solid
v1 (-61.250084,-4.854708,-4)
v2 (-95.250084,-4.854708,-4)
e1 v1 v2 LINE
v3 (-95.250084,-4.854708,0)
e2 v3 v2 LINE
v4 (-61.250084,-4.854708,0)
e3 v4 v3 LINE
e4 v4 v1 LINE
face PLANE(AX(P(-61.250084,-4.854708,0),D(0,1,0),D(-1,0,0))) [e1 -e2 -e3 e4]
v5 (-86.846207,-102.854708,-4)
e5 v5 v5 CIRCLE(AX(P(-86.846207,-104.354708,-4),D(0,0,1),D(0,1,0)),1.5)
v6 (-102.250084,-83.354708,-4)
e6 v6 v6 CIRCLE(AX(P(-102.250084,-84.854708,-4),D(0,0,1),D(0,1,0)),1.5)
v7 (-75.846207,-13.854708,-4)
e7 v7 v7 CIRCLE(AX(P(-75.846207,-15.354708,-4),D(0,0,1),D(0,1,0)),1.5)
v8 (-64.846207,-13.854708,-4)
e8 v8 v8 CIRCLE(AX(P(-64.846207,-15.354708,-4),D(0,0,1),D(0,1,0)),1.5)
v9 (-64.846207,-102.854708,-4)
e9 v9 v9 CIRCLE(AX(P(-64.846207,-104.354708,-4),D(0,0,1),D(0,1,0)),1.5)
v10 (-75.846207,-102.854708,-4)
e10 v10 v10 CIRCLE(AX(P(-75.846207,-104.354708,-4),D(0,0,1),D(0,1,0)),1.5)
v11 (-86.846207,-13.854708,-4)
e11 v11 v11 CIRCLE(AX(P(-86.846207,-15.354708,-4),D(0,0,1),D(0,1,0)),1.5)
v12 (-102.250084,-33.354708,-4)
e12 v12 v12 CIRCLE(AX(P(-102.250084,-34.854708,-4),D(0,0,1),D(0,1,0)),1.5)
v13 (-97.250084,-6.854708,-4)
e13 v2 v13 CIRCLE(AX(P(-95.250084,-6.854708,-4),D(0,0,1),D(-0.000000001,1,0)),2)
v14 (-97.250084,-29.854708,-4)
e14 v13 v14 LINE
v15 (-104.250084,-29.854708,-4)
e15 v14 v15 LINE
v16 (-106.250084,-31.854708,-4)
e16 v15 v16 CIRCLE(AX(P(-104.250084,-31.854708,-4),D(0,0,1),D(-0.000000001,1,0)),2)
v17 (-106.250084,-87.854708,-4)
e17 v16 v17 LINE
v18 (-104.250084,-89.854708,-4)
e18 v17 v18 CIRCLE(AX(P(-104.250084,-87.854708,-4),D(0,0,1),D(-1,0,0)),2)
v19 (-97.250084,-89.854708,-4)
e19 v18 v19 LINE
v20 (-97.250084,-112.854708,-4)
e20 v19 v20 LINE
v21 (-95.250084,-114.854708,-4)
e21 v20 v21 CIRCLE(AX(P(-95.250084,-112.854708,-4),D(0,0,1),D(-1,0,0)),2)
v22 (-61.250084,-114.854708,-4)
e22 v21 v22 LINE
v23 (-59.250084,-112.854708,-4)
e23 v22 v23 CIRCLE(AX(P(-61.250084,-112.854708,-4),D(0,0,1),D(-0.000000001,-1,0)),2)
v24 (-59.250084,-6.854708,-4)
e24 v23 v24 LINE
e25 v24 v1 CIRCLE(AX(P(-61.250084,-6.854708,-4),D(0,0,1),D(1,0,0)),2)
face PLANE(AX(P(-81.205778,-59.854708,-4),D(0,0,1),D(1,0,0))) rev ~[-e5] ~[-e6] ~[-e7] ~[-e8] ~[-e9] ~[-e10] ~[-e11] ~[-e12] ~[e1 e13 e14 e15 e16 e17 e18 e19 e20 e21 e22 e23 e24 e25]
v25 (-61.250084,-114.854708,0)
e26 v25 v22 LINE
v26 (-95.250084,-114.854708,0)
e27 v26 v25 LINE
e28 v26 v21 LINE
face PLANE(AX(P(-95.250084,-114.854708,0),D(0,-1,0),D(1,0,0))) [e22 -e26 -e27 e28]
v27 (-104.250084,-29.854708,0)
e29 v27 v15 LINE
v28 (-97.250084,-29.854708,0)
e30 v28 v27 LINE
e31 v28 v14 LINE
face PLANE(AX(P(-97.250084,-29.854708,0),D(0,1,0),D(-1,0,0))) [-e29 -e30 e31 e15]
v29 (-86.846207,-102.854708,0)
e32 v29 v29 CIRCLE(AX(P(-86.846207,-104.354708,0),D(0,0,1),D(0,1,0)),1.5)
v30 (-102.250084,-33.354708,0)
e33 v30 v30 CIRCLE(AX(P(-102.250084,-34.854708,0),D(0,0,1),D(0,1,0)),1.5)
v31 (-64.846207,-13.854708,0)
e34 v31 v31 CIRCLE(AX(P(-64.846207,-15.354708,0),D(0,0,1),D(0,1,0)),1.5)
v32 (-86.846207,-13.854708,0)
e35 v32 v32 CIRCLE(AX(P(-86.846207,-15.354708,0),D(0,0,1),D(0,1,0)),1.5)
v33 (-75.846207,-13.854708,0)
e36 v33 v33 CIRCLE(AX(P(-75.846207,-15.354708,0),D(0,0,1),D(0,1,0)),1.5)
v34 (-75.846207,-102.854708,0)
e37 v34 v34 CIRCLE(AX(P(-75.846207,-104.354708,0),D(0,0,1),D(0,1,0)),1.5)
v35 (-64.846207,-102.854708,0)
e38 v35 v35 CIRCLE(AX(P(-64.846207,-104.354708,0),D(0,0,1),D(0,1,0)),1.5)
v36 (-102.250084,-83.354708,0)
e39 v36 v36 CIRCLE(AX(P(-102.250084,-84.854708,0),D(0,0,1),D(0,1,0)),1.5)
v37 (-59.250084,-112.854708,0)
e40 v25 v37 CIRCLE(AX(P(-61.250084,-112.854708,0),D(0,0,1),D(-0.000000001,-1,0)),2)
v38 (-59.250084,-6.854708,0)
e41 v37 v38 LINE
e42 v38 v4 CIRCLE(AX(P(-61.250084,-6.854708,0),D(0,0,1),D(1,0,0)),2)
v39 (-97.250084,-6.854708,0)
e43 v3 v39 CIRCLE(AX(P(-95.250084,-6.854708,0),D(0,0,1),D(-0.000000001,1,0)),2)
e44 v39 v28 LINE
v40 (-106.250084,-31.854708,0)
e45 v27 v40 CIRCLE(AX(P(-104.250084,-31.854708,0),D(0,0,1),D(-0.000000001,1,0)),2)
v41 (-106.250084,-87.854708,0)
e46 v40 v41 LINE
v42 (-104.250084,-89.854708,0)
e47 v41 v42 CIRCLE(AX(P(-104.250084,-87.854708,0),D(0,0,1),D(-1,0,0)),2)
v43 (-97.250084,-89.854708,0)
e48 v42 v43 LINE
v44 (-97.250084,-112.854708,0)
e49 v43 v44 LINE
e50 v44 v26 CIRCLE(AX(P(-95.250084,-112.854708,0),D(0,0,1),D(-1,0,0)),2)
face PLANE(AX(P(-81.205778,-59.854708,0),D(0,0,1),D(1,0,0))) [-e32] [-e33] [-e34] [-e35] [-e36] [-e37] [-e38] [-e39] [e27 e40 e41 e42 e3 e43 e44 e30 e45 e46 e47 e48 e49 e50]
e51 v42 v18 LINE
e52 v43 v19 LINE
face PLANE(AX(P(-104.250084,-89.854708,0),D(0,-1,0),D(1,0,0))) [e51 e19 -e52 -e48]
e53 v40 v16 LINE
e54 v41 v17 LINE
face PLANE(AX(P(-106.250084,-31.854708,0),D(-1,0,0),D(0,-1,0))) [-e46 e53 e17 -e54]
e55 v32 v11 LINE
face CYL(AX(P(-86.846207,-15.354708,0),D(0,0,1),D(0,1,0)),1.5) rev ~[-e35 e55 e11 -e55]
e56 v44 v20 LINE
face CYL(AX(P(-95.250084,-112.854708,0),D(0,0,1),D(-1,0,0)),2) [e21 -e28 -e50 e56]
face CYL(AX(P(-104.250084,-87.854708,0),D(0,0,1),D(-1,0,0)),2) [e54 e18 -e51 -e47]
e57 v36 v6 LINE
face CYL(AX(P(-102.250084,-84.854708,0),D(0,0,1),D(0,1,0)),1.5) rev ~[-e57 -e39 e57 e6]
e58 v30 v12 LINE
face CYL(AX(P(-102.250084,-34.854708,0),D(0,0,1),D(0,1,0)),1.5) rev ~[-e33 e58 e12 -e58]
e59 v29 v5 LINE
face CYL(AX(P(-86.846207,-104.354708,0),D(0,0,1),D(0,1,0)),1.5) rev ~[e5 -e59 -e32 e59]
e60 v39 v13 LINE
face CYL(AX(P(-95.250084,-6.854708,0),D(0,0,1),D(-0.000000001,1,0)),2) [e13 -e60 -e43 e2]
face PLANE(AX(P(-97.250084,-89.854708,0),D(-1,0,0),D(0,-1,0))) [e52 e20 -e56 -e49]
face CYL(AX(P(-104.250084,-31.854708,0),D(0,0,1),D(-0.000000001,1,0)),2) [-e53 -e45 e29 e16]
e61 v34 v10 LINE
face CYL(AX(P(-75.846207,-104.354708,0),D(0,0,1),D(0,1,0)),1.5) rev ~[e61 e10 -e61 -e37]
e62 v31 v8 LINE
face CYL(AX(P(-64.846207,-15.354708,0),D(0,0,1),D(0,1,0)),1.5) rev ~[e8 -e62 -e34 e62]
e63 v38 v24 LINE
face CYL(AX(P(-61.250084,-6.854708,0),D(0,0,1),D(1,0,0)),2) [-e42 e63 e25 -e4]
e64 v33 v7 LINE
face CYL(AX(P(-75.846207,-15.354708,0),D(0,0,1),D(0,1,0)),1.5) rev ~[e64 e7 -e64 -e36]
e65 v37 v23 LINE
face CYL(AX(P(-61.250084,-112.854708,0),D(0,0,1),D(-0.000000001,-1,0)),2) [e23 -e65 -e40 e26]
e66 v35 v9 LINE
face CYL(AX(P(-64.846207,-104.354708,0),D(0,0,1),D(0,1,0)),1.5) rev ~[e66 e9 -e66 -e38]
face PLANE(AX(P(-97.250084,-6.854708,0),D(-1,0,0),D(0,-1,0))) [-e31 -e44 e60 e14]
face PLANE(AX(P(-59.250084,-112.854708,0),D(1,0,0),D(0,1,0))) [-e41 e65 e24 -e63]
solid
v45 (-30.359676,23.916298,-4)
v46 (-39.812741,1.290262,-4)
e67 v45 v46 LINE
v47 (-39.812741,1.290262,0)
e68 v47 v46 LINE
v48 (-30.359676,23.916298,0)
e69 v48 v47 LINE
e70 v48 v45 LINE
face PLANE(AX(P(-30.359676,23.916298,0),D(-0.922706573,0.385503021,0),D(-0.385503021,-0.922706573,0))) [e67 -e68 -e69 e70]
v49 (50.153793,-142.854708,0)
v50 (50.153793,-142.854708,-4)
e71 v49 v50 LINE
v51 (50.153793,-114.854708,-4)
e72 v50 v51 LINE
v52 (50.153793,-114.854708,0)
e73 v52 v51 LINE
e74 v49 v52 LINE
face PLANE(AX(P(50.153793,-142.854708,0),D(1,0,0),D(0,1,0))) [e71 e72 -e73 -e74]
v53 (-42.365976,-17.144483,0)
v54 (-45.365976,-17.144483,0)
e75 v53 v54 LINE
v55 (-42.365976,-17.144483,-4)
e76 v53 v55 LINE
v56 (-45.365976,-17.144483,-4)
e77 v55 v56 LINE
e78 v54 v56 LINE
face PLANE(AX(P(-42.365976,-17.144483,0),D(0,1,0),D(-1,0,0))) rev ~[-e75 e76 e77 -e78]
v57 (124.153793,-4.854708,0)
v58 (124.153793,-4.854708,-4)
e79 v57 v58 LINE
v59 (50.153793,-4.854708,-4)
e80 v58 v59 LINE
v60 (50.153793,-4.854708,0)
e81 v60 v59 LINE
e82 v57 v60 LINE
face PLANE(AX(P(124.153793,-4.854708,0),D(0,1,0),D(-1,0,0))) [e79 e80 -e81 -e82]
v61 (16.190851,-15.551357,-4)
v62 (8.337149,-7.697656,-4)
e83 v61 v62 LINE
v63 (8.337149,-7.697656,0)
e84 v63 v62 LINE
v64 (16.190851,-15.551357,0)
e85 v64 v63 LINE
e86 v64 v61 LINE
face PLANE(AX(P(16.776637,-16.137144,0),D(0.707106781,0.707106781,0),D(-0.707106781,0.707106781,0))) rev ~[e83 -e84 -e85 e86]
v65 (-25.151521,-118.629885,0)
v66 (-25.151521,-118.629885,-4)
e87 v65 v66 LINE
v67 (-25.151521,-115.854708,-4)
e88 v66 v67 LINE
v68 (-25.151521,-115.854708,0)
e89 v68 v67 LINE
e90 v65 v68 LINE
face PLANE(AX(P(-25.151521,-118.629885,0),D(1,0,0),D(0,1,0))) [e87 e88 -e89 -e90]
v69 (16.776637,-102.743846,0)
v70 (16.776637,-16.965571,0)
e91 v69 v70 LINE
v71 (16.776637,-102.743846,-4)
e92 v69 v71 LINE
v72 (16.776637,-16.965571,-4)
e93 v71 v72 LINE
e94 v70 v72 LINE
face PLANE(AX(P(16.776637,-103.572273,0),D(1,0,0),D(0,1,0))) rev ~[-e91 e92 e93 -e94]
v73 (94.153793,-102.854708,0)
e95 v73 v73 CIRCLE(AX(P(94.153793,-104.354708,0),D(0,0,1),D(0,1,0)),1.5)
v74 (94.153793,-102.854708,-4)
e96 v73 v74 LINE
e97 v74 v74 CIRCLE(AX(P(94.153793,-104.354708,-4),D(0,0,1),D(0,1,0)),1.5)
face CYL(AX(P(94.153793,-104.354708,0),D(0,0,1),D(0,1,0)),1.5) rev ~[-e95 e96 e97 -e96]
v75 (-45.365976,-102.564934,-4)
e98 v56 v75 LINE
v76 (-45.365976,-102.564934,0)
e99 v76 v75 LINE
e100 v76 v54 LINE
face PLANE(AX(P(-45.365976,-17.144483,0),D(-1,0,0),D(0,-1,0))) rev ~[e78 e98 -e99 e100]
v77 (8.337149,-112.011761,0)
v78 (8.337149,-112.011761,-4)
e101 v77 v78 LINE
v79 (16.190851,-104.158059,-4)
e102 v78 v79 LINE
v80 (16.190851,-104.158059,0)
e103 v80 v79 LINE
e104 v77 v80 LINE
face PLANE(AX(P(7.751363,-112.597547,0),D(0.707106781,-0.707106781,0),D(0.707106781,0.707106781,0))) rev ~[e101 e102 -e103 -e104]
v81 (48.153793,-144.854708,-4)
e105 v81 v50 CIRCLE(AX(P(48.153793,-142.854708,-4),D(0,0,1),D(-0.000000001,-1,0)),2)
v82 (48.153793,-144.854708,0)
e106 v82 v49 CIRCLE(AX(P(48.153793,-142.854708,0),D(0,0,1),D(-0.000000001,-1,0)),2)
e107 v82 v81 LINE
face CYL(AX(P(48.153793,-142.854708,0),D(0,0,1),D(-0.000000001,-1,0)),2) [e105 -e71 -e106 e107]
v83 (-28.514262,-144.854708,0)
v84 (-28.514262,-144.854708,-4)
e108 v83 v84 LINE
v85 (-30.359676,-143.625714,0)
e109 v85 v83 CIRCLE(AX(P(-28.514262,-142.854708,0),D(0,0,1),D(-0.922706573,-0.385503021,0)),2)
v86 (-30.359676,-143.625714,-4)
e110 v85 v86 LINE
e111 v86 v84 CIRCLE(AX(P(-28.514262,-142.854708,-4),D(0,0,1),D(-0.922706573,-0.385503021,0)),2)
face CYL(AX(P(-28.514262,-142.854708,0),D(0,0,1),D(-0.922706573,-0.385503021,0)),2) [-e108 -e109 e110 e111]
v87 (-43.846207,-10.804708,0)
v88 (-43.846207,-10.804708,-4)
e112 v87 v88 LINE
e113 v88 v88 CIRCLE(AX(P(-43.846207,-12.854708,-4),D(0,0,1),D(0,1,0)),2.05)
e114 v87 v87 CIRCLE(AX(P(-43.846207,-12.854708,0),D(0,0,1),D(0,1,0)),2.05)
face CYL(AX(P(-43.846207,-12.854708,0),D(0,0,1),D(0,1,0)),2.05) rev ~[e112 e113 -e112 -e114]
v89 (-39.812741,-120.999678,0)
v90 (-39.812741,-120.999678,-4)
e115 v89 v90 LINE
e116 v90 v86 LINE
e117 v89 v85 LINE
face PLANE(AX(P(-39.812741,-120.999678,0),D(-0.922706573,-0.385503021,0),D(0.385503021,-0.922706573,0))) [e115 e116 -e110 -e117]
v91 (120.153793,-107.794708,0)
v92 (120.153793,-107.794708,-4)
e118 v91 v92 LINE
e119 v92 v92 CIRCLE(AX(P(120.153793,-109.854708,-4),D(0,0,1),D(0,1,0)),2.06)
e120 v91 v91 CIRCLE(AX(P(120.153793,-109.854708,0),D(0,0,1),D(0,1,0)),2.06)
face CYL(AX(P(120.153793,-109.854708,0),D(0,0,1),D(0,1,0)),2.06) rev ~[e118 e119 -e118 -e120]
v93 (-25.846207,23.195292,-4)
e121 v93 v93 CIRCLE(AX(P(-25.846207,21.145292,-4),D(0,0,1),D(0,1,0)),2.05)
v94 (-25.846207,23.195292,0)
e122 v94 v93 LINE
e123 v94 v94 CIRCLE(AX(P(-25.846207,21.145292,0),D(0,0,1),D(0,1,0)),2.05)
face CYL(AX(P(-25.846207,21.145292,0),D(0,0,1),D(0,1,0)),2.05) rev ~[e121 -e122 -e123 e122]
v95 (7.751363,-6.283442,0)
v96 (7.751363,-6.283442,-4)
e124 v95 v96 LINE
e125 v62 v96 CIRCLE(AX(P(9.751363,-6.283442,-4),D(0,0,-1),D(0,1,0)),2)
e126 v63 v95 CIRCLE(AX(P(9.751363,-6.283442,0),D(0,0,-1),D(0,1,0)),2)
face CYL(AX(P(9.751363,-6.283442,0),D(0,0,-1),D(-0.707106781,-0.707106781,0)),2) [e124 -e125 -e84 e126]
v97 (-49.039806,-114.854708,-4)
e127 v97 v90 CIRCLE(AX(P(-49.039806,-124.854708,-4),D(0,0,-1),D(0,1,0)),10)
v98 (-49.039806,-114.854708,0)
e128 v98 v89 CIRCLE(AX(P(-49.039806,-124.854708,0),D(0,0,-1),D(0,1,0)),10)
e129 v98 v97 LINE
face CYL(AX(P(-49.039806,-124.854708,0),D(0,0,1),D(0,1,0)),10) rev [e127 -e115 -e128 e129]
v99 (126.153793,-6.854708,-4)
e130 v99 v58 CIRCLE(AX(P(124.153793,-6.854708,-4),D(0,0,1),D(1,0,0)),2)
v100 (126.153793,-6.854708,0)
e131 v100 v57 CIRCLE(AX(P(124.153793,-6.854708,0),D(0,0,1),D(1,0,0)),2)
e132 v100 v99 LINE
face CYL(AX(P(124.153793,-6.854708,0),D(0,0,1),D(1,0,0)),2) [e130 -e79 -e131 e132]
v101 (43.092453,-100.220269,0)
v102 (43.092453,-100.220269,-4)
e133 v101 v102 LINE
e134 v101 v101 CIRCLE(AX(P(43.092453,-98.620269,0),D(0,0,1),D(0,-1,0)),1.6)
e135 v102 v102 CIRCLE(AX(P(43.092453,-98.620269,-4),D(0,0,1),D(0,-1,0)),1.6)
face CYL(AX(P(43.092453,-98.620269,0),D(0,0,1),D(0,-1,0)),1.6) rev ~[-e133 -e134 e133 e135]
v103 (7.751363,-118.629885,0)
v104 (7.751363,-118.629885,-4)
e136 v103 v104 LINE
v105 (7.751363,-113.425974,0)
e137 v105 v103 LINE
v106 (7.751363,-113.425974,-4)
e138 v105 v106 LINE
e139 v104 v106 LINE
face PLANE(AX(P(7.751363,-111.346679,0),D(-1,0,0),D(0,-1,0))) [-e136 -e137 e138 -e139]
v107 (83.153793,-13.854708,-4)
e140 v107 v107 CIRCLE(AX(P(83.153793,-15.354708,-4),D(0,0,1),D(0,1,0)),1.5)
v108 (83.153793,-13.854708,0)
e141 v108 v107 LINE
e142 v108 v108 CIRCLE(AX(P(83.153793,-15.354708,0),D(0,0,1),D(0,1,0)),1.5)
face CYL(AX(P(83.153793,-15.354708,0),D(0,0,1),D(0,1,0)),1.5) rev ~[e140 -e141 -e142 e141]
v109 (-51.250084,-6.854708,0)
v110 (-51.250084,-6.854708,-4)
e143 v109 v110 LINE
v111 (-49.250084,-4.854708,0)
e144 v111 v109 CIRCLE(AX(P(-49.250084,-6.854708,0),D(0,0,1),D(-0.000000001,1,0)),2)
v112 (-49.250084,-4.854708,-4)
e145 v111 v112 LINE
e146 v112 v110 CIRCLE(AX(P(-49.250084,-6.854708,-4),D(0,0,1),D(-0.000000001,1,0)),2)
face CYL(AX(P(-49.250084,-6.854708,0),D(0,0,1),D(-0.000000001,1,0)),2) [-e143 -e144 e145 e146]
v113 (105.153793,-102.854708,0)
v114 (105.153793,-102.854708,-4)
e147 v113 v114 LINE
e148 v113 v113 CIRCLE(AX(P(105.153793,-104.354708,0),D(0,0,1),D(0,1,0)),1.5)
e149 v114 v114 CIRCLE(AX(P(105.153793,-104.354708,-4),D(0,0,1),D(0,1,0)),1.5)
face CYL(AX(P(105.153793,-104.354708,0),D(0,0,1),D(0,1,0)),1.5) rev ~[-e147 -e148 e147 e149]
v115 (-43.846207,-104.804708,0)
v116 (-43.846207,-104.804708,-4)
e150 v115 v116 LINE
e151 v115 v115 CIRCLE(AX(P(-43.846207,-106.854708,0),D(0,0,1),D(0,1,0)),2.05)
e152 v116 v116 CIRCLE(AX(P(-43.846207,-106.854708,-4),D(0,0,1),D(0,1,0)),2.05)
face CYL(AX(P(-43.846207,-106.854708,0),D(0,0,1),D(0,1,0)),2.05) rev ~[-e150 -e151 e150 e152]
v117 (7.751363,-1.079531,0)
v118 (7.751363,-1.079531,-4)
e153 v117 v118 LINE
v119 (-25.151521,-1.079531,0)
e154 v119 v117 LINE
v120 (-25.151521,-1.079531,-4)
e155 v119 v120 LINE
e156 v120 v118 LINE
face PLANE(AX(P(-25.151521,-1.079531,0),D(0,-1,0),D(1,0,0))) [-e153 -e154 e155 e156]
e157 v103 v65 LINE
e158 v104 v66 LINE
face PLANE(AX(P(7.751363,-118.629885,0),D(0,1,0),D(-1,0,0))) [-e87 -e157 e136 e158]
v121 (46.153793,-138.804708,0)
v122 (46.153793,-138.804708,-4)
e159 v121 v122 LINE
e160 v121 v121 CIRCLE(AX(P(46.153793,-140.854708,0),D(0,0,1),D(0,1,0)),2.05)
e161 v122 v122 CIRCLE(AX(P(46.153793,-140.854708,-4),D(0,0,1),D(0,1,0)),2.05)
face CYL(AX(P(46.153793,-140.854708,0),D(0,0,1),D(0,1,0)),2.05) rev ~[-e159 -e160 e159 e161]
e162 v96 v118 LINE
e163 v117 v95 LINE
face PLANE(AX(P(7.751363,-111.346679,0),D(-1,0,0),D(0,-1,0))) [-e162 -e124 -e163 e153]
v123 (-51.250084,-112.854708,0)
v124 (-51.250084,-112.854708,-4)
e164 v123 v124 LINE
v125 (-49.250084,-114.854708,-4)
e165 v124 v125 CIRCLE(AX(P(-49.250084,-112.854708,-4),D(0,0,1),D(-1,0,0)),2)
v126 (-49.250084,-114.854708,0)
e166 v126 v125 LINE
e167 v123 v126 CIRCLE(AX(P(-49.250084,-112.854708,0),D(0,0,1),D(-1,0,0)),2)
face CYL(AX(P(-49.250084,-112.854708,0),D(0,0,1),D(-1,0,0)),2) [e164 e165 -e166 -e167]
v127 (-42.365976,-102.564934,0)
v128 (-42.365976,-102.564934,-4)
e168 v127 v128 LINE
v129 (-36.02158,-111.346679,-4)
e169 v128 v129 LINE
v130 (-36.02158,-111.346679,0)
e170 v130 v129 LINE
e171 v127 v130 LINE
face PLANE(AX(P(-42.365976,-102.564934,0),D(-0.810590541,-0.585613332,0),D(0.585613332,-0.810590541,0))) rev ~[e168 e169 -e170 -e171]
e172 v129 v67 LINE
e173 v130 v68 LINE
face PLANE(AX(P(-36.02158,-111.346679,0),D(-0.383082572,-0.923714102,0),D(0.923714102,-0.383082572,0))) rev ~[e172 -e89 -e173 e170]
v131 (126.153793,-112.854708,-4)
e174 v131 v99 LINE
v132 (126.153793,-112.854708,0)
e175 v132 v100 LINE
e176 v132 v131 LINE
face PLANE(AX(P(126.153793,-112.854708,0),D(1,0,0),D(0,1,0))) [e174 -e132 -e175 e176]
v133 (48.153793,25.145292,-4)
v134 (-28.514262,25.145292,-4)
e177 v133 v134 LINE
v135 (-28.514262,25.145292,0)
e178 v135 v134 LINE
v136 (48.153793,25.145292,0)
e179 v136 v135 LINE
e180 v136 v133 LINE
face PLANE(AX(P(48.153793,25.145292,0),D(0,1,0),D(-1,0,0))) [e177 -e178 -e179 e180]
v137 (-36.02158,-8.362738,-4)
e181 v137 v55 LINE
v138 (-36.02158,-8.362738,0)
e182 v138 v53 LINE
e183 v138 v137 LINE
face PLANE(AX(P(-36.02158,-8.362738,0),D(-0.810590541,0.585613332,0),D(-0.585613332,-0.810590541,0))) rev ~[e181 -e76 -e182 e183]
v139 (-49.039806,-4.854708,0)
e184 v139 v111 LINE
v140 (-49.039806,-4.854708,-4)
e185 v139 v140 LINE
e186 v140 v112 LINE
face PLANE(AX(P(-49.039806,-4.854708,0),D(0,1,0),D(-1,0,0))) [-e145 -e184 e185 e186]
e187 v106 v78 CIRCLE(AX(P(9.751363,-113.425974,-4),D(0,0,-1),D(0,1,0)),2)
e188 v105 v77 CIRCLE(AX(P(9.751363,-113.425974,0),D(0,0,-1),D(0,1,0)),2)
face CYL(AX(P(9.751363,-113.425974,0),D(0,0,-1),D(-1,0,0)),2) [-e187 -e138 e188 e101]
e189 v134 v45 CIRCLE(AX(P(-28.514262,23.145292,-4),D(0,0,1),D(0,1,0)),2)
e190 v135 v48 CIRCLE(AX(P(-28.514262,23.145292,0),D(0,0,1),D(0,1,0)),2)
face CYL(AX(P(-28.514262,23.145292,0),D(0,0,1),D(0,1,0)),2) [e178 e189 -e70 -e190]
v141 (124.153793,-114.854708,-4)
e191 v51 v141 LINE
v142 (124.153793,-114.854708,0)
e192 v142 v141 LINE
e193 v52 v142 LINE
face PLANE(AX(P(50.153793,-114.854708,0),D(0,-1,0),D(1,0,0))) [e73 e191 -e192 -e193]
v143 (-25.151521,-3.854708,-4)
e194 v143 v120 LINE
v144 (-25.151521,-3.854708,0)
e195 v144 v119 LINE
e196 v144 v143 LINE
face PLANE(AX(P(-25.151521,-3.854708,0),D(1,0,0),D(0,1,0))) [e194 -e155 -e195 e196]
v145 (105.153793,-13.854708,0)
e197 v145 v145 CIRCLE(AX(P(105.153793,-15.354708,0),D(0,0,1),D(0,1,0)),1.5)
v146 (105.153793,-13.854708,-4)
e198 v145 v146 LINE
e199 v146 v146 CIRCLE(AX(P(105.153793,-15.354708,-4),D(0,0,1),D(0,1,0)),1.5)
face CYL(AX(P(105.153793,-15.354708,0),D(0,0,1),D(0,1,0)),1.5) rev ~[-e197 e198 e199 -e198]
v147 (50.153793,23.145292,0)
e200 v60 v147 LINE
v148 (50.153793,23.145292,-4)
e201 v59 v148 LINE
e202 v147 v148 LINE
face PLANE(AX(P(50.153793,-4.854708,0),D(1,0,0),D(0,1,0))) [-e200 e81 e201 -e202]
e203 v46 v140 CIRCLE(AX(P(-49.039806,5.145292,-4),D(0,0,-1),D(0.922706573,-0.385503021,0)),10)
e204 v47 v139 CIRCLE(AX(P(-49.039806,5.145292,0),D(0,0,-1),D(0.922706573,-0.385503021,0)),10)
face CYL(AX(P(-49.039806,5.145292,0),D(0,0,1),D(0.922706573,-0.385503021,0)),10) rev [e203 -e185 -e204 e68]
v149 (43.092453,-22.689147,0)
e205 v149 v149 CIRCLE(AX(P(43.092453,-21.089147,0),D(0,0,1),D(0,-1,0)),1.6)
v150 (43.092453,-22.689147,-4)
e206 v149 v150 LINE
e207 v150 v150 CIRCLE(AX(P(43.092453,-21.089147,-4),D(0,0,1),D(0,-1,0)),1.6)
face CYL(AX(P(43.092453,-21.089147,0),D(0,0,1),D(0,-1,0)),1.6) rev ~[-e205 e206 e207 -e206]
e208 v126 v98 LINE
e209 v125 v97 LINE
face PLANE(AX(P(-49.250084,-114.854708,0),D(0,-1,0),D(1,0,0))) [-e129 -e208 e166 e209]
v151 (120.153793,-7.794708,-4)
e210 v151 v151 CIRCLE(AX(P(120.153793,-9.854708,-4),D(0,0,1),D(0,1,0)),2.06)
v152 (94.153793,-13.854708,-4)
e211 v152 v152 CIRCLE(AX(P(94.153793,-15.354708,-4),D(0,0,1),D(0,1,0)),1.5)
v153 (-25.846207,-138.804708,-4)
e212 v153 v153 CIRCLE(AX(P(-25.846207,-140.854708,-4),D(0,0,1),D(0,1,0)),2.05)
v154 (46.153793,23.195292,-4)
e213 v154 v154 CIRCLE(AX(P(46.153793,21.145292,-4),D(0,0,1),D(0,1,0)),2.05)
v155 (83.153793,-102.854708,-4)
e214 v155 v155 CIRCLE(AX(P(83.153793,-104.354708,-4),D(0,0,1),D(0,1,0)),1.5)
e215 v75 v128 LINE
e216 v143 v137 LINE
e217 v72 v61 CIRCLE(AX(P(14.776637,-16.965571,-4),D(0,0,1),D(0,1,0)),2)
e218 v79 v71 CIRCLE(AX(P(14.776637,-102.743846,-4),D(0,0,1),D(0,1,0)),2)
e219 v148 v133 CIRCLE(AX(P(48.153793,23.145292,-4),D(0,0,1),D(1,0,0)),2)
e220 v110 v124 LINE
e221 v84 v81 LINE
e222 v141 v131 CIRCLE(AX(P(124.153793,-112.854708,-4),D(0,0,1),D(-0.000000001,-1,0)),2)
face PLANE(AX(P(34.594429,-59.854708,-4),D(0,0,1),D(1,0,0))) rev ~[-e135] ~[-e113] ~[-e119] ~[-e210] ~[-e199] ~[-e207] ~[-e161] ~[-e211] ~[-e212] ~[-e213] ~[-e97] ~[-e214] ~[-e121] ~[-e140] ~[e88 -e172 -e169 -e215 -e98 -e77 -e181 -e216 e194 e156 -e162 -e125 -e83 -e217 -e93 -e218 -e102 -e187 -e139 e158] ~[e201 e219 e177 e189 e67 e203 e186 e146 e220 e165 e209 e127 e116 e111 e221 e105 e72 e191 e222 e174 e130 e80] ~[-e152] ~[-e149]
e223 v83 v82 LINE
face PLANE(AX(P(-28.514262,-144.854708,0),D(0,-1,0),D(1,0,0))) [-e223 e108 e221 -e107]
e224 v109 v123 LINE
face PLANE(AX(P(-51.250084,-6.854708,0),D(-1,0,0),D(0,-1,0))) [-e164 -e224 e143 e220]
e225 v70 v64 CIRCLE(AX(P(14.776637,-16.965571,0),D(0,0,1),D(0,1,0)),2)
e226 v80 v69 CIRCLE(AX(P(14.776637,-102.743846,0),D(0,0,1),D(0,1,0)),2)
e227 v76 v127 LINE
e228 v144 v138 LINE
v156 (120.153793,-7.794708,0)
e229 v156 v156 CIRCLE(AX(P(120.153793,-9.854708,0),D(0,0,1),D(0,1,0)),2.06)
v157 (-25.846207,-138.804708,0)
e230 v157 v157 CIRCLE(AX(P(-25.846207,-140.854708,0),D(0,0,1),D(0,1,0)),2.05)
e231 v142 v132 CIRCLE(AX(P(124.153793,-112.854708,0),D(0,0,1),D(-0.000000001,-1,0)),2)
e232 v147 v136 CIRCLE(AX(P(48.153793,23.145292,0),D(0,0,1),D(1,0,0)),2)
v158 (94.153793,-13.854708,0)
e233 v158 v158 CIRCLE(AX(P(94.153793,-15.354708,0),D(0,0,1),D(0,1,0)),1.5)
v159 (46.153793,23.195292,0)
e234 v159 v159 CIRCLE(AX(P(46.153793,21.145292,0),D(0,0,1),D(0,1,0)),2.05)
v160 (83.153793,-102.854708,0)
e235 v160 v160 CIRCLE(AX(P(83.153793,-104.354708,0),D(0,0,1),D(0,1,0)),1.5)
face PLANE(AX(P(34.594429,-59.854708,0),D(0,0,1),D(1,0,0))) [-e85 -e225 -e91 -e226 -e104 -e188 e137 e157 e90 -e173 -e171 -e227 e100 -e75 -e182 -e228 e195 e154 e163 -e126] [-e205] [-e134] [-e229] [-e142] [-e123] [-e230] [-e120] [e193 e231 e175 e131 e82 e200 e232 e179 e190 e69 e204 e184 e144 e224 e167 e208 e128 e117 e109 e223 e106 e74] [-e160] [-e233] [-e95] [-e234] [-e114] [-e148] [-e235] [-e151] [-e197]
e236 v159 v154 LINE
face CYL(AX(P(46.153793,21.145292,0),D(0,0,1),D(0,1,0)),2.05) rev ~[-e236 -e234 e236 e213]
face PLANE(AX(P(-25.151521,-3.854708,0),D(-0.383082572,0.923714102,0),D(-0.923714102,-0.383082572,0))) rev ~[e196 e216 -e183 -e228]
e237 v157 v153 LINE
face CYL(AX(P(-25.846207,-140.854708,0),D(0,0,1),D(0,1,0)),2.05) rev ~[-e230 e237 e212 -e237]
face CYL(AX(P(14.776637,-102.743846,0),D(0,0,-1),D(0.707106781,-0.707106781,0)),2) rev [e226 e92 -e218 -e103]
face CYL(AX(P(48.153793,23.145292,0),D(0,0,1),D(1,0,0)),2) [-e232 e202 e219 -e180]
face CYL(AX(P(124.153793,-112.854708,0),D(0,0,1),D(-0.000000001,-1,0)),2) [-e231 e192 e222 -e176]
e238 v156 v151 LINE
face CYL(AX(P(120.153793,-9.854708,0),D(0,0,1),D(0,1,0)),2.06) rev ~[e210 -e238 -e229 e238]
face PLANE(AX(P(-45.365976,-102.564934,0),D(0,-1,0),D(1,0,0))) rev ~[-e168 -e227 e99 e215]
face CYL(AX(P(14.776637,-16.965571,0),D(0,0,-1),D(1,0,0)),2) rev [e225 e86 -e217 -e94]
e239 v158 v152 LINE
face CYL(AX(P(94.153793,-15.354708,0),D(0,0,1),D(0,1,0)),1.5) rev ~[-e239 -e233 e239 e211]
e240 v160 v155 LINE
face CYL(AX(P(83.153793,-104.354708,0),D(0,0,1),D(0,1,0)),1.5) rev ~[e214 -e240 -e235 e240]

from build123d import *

# Parameters (mm, degrees)
EXTRUDE_1_DEPTH     = 4
EXTRUDE_1_2_DEPTH   = 4
SKETCH_2_W          = 53.11733904
SKETCH_2_H          = 4.531112107
CUT_EXTRUDE_1_DEPTH = 4
CUT_EXTRUDE_2_DEPTH = 4
FILLET_1_R          = 2


with BuildPart() as part:
    # 草图1 → 凸台-拉伸1 (new body)
    with BuildSketch(Plane.XY):
        with BuildLine():
            Line((-97.250083826, -29.854708147), (-104.250083826, -29.854708147))
            ThreePointArc((-104.250083826, -29.854708147), (-105.664297388, -30.440494585), (-106.250083826, -31.854708147))
            Line((-106.250083826, -31.854708147), (-106.250083826, -87.854708147))
            ThreePointArc((-106.250083826, -87.854708147), (-105.664297388, -89.26892171), (-104.250083826, -89.854708147))
            Line((-104.250083826, -89.854708147), (-97.250083826, -89.854708147))
            Line((-97.250083826, -89.854708147), (-97.250083826, -112.854708147))
            ThreePointArc((-97.250083826, -112.854708147), (-96.664297388, -114.26892171), (-95.250083826, -114.854708147))
            Line((-95.250083826, -114.854708147), (-61.250083826, -114.854708147))
            ThreePointArc((-61.250083826, -114.854708147), (-59.835870263, -114.26892171), (-59.250083826, -112.854708147))
            Line((-59.250083826, -112.854708147), (-59.250083826, -6.854708147))
            ThreePointArc((-59.250083826, -6.854708147), (-59.835870263, -5.440494585), (-61.250083826, -4.854708147))
            Line((-61.250083826, -4.854708147), (-95.250083826, -4.854708147))
            ThreePointArc((-95.250083826, -4.854708147), (-96.664297388, -5.440494585), (-97.250083826, -6.854708147))
            Line((-97.250083826, -6.854708147), (-97.250083826, -29.854708147))
        make_face()
        with BuildLine():
            ThreePointArc((-64.846206897, -16.854708147), (-63.346206897, -15.354708147), (-64.846206897, -13.854708147))
            ThreePointArc((-64.846206897, -13.854708147), (-66.346206897, -15.354708147), (-64.846206897, -16.854708147))
        make_face(mode=Mode.SUBTRACT)
        with BuildLine():
            ThreePointArc((-75.846206897, -16.854708147), (-74.346206897, -15.354708147), (-75.846206897, -13.854708147))
            ThreePointArc((-75.846206897, -13.854708147), (-77.346206897, -15.354708147), (-75.846206897, -16.854708147))
        make_face(mode=Mode.SUBTRACT)
        with BuildLine():
            ThreePointArc((-102.250083826, -36.354708147), (-100.750083826, -34.854708147), (-102.250083826, -33.354708147))
            ThreePointArc((-102.250083826, -33.354708147), (-103.750083826, -34.854708147), (-102.250083826, -36.354708147))
        make_face(mode=Mode.SUBTRACT)
        with BuildLine():
            ThreePointArc((-75.846206897, -105.854708147), (-74.346206897, -104.354708147), (-75.846206897, -102.854708147))
            ThreePointArc((-75.846206897, -102.854708147), (-77.346206897, -104.354708147), (-75.846206897, -105.854708147))
        make_face(mode=Mode.SUBTRACT)
        with BuildLine():
            ThreePointArc((-102.250083826, -86.354708147), (-100.750083826, -84.854708147), (-102.250083826, -83.354708147))
            ThreePointArc((-102.250083826, -83.354708147), (-103.750083826, -84.854708147), (-102.250083826, -86.354708147))
        make_face(mode=Mode.SUBTRACT)
        with BuildLine():
            ThreePointArc((-64.846206897, -105.854708147), (-63.346206897, -104.354708147), (-64.846206897, -102.854708147))
            ThreePointArc((-64.846206897, -102.854708147), (-66.346206897, -104.354708147), (-64.846206897, -105.854708147))
        make_face(mode=Mode.SUBTRACT)
        with BuildLine():
            ThreePointArc((-86.846206897, -105.854708147), (-85.346206897, -104.354708147), (-86.846206897, -102.854708147))
            ThreePointArc((-86.846206897, -102.854708147), (-88.346206897, -104.354708147), (-86.846206897, -105.854708147))
        make_face(mode=Mode.SUBTRACT)
        with BuildLine():
            ThreePointArc((-86.846206897, -16.854708147), (-85.346206897, -15.354708147), (-86.846206897, -13.854708147))
            ThreePointArc((-86.846206897, -13.854708147), (-88.346206897, -15.354708147), (-86.846206897, -16.854708147))
        make_face(mode=Mode.SUBTRACT)
    extrude(amount=-EXTRUDE_1_DEPTH)


with BuildPart() as body_2:
    # 草图1 → Extrude 1 2 (new body)
    with BuildSketch(Plane.XY):
        with BuildLine():
            Line((-51.250083826, -6.854708147), (-51.250083826, -112.854708147))
            ThreePointArc((-51.250083826, -112.854708147), (-50.664297388, -114.26892171), (-49.250083826, -114.854708147))
            Line((-49.250083826, -114.854708147), (-49.039806392, -114.854708147))
            ThreePointArc((-49.039806392, -114.854708147), (-43.496806397, -116.531538615), (-39.812740657, -120.999677936))
            Line((-39.812740657, -120.999677936), (-30.35967553, -143.62571419))
            ThreePointArc((-30.35967553, -143.62571419), (-29.622862382, -144.519342054), (-28.514262383, -144.854708147))
            Line((-28.514262383, -144.854708147), (48.153793103, -144.854708147))
            ThreePointArc((48.153793103, -144.854708147), (49.568006666, -144.26892171), (50.153793103, -142.854708147))
            Line((50.153793103, -142.854708147), (50.153793103, -114.854708147))
            Line((50.153793103, -114.854708147), (124.153793103, -114.854708147))
            ThreePointArc((124.153793103, -114.854708147), (125.568006666, -114.26892171), (126.153793103, -112.854708147))
            Line((126.153793103, -112.854708147), (126.153793103, -6.854708147))
            ThreePointArc((126.153793103, -6.854708147), (125.568006666, -5.440494585), (124.153793103, -4.854708147))
            Line((124.153793103, -4.854708147), (50.153793103, -4.854708147))
            Line((50.153793103, -4.854708147), (50.153793103, 23.145291853))
            ThreePointArc((50.153793103, 23.145291853), (49.568006666, 24.559505415), (48.153793103, 25.145291853))
            Line((48.153793103, 25.145291853), (-28.514262383, 25.145291853))
            ThreePointArc((-28.514262383, 25.145291853), (-29.622862382, 24.809925759), (-30.35967553, 23.916297895))
            Line((-30.35967553, 23.916297895), (-39.812740657, 1.290261641))
            ThreePointArc((-39.812740657, 1.290261641), (-43.496806397, -3.177877679), (-49.039806392, -4.854708147))
            Line((-49.039806392, -4.854708147), (-49.250083826, -4.854708147))
            ThreePointArc((-49.250083826, -4.854708147), (-50.664297388, -5.440494585), (-51.250083826, -6.854708147))
        make_face()
        Polygon((-45.365975995, -102.56493354), (-42.365975995, -102.56493354), (-36.021580355, -111.346678778), (-25.151520982, -115.854708147), (2.153793103, -115.854708147), (7.751363045, -111.346678778), (7.751363045, -61.468213714), (-45.365975995, -61.468213714), align=None, mode=Mode.SUBTRACT)
        Polygon((2.153793103, -3.854708147), (-25.151520982, -3.854708147), (-36.021580355, -8.362737517), (-42.365975995, -17.144482755), (-45.365975995, -17.144482755), (-45.365975995, -58.241202581), (7.751363045, -58.241202581), (7.751363045, -8.362737517), align=None, mode=Mode.SUBTRACT)
        with BuildLine():
            ThreePointArc((105.153793103, -105.854708147), (106.653793103, -104.354708147), (105.153793103, -102.854708147))
            ThreePointArc((105.153793103, -102.854708147), (103.653793103, -104.354708147), (105.153793103, -105.854708147))
        make_face(mode=Mode.SUBTRACT)
        with BuildLine():
            ThreePointArc((94.153793103, -16.854708147), (95.653793103, -15.354708147), (94.153793103, -13.854708147))
            ThreePointArc((94.153793103, -13.854708147), (92.653793103, -15.354708147), (94.153793103, -16.854708147))
        make_face(mode=Mode.SUBTRACT)
        with BuildLine():
            ThreePointArc((-25.846206897, -142.904708147), (-23.796206897, -140.854708147), (-25.846206897, -138.804708147))
            ThreePointArc((-25.846206897, -138.804708147), (-27.896206897, -140.854708147), (-25.846206897, -142.904708147))
        make_face(mode=Mode.SUBTRACT)
        with BuildLine():
            ThreePointArc((-43.846206897, -14.904708147), (-41.796206897, -12.854708147), (-43.846206897, -10.804708147))
            ThreePointArc((-43.846206897, -10.804708147), (-45.896206897, -12.854708147), (-43.846206897, -14.904708147))
        make_face(mode=Mode.SUBTRACT)
        with BuildLine():
            ThreePointArc((46.153793103, 19.095291853), (48.203793103, 21.145291853), (46.153793103, 23.195291853))
            ThreePointArc((46.153793103, 23.195291853), (44.103793103, 21.145291853), (46.153793103, 19.095291853))
        make_face(mode=Mode.SUBTRACT)
        with BuildLine():
            ThreePointArc((120.153793103, -11.914708147), (122.213793103, -9.854708147), (120.153793103, -7.794708147))
            ThreePointArc((120.153793103, -7.794708147), (118.093793103, -9.854708147), (120.153793103, -11.914708147))
        make_face(mode=Mode.SUBTRACT)
        with BuildLine():
            ThreePointArc((83.153793103, -16.854708147), (84.653793103, -15.354708147), (83.153793103, -13.854708147))
            ThreePointArc((83.153793103, -13.854708147), (81.653793103, -15.354708147), (83.153793103, -16.854708147))
        make_face(mode=Mode.SUBTRACT)
        with BuildLine():
            ThreePointArc((105.153793103, -16.854708147), (106.653793103, -15.354708147), (105.153793103, -13.854708147))
            ThreePointArc((105.153793103, -13.854708147), (103.653793103, -15.354708147), (105.153793103, -16.854708147))
        make_face(mode=Mode.SUBTRACT)
        with BuildLine():
            ThreePointArc((83.153793103, -105.854708147), (84.653793103, -104.354708147), (83.153793103, -102.854708147))
            ThreePointArc((83.153793103, -102.854708147), (81.653793103, -104.354708147), (83.153793103, -105.854708147))
        make_face(mode=Mode.SUBTRACT)
        with BuildLine():
            ThreePointArc((94.153793103, -105.854708147), (95.653793103, -104.354708147), (94.153793103, -102.854708147))
            ThreePointArc((94.153793103, -102.854708147), (92.653793103, -104.354708147), (94.153793103, -105.854708147))
        make_face(mode=Mode.SUBTRACT)
        with BuildLine():
            ThreePointArc((120.153793103, -111.914708147), (122.213793103, -109.854708147), (120.153793103, -107.794708147))
            ThreePointArc((120.153793103, -107.794708147), (118.093793103, -109.854708147), (120.153793103, -111.914708147))
        make_face(mode=Mode.SUBTRACT)
        with BuildLine():
            ThreePointArc((-25.846206897, 19.095291853), (-23.796206897, 21.145291853), (-25.846206897, 23.195291853))
            ThreePointArc((-25.846206897, 23.195291853), (-27.896206897, 21.145291853), (-25.846206897, 19.095291853))
        make_face(mode=Mode.SUBTRACT)
        with BuildLine():
            ThreePointArc((-43.846206897, -108.904708147), (-41.796206897, -106.854708147), (-43.846206897, -104.804708147))
            ThreePointArc((-43.846206897, -104.804708147), (-45.896206897, -106.854708147), (-43.846206897, -108.904708147))
        make_face(mode=Mode.SUBTRACT)
        with BuildLine():
            ThreePointArc((46.153793103, -142.904708147), (48.203793103, -140.854708147), (46.153793103, -138.804708147))
            ThreePointArc((46.153793103, -138.804708147), (44.103793103, -140.854708147), (46.153793103, -142.904708147))
        make_face(mode=Mode.SUBTRACT)
        with BuildLine():
            ThreePointArc((43.092452976, -97.02026908), (41.492452976, -98.62026908), (43.092452976, -100.22026908))
            ThreePointArc((43.092452976, -100.22026908), (44.692452976, -98.62026908), (43.092452976, -97.02026908))
        make_face(mode=Mode.SUBTRACT)
        with BuildLine():
            ThreePointArc((43.092452976, -19.489147215), (41.492452976, -21.089147215), (43.092452976, -22.689147215))
            ThreePointArc((43.092452976, -22.689147215), (44.692452976, -21.089147215), (43.092452976, -19.489147215))
        make_face(mode=Mode.SUBTRACT)
    extrude(amount=-EXTRUDE_1_2_DEPTH)

    # 草图2 → 切除-拉伸1 (cut)
    with BuildSketch(Plane.XY):
        with Locations((-18.807306475, -59.202657661)):
            Rectangle(SKETCH_2_W, SKETCH_2_H)
        Polygon((7.751363045, -111.346678778), (7.751363045, -118.629885226), (-25.151520982, -118.629885226), (-25.151520982, -115.854708147), align=None)
        Polygon((7.751363045, -8.362737517), (-25.151520982, -3.854708147), (-25.151520982, -1.079531069), (7.751363045, -1.079531069), align=None)
    extrude(amount=-CUT_EXTRUDE_1_DEPTH, mode=Mode.SUBTRACT)

    # 草图3 → 切除-拉伸2 (cut)
    with BuildSketch(Plane.XY):
        Polygon((7.751363045, -112.597547132), (16.776637483, -103.572272693), (16.776637483, -16.137143601), (7.751363045, -7.111869163), align=None)
    extrude(amount=-CUT_EXTRUDE_2_DEPTH, mode=Mode.SUBTRACT)

    # 圆角1
    fillet_1_edges = [body_2.edges().sort_by_distance(p)[0] for p in [
        (7.751363045, -112.597547132, -2),
        (7.751363045, -7.111869163, -2),
        (16.776637483, -16.137143601, -2),
        (16.776637483, -103.572272693, -2),
    ]]
    fillet(fillet_1_edges, radius=FILLET_1_R)


solid = Compound([part.part, body_2.part])
